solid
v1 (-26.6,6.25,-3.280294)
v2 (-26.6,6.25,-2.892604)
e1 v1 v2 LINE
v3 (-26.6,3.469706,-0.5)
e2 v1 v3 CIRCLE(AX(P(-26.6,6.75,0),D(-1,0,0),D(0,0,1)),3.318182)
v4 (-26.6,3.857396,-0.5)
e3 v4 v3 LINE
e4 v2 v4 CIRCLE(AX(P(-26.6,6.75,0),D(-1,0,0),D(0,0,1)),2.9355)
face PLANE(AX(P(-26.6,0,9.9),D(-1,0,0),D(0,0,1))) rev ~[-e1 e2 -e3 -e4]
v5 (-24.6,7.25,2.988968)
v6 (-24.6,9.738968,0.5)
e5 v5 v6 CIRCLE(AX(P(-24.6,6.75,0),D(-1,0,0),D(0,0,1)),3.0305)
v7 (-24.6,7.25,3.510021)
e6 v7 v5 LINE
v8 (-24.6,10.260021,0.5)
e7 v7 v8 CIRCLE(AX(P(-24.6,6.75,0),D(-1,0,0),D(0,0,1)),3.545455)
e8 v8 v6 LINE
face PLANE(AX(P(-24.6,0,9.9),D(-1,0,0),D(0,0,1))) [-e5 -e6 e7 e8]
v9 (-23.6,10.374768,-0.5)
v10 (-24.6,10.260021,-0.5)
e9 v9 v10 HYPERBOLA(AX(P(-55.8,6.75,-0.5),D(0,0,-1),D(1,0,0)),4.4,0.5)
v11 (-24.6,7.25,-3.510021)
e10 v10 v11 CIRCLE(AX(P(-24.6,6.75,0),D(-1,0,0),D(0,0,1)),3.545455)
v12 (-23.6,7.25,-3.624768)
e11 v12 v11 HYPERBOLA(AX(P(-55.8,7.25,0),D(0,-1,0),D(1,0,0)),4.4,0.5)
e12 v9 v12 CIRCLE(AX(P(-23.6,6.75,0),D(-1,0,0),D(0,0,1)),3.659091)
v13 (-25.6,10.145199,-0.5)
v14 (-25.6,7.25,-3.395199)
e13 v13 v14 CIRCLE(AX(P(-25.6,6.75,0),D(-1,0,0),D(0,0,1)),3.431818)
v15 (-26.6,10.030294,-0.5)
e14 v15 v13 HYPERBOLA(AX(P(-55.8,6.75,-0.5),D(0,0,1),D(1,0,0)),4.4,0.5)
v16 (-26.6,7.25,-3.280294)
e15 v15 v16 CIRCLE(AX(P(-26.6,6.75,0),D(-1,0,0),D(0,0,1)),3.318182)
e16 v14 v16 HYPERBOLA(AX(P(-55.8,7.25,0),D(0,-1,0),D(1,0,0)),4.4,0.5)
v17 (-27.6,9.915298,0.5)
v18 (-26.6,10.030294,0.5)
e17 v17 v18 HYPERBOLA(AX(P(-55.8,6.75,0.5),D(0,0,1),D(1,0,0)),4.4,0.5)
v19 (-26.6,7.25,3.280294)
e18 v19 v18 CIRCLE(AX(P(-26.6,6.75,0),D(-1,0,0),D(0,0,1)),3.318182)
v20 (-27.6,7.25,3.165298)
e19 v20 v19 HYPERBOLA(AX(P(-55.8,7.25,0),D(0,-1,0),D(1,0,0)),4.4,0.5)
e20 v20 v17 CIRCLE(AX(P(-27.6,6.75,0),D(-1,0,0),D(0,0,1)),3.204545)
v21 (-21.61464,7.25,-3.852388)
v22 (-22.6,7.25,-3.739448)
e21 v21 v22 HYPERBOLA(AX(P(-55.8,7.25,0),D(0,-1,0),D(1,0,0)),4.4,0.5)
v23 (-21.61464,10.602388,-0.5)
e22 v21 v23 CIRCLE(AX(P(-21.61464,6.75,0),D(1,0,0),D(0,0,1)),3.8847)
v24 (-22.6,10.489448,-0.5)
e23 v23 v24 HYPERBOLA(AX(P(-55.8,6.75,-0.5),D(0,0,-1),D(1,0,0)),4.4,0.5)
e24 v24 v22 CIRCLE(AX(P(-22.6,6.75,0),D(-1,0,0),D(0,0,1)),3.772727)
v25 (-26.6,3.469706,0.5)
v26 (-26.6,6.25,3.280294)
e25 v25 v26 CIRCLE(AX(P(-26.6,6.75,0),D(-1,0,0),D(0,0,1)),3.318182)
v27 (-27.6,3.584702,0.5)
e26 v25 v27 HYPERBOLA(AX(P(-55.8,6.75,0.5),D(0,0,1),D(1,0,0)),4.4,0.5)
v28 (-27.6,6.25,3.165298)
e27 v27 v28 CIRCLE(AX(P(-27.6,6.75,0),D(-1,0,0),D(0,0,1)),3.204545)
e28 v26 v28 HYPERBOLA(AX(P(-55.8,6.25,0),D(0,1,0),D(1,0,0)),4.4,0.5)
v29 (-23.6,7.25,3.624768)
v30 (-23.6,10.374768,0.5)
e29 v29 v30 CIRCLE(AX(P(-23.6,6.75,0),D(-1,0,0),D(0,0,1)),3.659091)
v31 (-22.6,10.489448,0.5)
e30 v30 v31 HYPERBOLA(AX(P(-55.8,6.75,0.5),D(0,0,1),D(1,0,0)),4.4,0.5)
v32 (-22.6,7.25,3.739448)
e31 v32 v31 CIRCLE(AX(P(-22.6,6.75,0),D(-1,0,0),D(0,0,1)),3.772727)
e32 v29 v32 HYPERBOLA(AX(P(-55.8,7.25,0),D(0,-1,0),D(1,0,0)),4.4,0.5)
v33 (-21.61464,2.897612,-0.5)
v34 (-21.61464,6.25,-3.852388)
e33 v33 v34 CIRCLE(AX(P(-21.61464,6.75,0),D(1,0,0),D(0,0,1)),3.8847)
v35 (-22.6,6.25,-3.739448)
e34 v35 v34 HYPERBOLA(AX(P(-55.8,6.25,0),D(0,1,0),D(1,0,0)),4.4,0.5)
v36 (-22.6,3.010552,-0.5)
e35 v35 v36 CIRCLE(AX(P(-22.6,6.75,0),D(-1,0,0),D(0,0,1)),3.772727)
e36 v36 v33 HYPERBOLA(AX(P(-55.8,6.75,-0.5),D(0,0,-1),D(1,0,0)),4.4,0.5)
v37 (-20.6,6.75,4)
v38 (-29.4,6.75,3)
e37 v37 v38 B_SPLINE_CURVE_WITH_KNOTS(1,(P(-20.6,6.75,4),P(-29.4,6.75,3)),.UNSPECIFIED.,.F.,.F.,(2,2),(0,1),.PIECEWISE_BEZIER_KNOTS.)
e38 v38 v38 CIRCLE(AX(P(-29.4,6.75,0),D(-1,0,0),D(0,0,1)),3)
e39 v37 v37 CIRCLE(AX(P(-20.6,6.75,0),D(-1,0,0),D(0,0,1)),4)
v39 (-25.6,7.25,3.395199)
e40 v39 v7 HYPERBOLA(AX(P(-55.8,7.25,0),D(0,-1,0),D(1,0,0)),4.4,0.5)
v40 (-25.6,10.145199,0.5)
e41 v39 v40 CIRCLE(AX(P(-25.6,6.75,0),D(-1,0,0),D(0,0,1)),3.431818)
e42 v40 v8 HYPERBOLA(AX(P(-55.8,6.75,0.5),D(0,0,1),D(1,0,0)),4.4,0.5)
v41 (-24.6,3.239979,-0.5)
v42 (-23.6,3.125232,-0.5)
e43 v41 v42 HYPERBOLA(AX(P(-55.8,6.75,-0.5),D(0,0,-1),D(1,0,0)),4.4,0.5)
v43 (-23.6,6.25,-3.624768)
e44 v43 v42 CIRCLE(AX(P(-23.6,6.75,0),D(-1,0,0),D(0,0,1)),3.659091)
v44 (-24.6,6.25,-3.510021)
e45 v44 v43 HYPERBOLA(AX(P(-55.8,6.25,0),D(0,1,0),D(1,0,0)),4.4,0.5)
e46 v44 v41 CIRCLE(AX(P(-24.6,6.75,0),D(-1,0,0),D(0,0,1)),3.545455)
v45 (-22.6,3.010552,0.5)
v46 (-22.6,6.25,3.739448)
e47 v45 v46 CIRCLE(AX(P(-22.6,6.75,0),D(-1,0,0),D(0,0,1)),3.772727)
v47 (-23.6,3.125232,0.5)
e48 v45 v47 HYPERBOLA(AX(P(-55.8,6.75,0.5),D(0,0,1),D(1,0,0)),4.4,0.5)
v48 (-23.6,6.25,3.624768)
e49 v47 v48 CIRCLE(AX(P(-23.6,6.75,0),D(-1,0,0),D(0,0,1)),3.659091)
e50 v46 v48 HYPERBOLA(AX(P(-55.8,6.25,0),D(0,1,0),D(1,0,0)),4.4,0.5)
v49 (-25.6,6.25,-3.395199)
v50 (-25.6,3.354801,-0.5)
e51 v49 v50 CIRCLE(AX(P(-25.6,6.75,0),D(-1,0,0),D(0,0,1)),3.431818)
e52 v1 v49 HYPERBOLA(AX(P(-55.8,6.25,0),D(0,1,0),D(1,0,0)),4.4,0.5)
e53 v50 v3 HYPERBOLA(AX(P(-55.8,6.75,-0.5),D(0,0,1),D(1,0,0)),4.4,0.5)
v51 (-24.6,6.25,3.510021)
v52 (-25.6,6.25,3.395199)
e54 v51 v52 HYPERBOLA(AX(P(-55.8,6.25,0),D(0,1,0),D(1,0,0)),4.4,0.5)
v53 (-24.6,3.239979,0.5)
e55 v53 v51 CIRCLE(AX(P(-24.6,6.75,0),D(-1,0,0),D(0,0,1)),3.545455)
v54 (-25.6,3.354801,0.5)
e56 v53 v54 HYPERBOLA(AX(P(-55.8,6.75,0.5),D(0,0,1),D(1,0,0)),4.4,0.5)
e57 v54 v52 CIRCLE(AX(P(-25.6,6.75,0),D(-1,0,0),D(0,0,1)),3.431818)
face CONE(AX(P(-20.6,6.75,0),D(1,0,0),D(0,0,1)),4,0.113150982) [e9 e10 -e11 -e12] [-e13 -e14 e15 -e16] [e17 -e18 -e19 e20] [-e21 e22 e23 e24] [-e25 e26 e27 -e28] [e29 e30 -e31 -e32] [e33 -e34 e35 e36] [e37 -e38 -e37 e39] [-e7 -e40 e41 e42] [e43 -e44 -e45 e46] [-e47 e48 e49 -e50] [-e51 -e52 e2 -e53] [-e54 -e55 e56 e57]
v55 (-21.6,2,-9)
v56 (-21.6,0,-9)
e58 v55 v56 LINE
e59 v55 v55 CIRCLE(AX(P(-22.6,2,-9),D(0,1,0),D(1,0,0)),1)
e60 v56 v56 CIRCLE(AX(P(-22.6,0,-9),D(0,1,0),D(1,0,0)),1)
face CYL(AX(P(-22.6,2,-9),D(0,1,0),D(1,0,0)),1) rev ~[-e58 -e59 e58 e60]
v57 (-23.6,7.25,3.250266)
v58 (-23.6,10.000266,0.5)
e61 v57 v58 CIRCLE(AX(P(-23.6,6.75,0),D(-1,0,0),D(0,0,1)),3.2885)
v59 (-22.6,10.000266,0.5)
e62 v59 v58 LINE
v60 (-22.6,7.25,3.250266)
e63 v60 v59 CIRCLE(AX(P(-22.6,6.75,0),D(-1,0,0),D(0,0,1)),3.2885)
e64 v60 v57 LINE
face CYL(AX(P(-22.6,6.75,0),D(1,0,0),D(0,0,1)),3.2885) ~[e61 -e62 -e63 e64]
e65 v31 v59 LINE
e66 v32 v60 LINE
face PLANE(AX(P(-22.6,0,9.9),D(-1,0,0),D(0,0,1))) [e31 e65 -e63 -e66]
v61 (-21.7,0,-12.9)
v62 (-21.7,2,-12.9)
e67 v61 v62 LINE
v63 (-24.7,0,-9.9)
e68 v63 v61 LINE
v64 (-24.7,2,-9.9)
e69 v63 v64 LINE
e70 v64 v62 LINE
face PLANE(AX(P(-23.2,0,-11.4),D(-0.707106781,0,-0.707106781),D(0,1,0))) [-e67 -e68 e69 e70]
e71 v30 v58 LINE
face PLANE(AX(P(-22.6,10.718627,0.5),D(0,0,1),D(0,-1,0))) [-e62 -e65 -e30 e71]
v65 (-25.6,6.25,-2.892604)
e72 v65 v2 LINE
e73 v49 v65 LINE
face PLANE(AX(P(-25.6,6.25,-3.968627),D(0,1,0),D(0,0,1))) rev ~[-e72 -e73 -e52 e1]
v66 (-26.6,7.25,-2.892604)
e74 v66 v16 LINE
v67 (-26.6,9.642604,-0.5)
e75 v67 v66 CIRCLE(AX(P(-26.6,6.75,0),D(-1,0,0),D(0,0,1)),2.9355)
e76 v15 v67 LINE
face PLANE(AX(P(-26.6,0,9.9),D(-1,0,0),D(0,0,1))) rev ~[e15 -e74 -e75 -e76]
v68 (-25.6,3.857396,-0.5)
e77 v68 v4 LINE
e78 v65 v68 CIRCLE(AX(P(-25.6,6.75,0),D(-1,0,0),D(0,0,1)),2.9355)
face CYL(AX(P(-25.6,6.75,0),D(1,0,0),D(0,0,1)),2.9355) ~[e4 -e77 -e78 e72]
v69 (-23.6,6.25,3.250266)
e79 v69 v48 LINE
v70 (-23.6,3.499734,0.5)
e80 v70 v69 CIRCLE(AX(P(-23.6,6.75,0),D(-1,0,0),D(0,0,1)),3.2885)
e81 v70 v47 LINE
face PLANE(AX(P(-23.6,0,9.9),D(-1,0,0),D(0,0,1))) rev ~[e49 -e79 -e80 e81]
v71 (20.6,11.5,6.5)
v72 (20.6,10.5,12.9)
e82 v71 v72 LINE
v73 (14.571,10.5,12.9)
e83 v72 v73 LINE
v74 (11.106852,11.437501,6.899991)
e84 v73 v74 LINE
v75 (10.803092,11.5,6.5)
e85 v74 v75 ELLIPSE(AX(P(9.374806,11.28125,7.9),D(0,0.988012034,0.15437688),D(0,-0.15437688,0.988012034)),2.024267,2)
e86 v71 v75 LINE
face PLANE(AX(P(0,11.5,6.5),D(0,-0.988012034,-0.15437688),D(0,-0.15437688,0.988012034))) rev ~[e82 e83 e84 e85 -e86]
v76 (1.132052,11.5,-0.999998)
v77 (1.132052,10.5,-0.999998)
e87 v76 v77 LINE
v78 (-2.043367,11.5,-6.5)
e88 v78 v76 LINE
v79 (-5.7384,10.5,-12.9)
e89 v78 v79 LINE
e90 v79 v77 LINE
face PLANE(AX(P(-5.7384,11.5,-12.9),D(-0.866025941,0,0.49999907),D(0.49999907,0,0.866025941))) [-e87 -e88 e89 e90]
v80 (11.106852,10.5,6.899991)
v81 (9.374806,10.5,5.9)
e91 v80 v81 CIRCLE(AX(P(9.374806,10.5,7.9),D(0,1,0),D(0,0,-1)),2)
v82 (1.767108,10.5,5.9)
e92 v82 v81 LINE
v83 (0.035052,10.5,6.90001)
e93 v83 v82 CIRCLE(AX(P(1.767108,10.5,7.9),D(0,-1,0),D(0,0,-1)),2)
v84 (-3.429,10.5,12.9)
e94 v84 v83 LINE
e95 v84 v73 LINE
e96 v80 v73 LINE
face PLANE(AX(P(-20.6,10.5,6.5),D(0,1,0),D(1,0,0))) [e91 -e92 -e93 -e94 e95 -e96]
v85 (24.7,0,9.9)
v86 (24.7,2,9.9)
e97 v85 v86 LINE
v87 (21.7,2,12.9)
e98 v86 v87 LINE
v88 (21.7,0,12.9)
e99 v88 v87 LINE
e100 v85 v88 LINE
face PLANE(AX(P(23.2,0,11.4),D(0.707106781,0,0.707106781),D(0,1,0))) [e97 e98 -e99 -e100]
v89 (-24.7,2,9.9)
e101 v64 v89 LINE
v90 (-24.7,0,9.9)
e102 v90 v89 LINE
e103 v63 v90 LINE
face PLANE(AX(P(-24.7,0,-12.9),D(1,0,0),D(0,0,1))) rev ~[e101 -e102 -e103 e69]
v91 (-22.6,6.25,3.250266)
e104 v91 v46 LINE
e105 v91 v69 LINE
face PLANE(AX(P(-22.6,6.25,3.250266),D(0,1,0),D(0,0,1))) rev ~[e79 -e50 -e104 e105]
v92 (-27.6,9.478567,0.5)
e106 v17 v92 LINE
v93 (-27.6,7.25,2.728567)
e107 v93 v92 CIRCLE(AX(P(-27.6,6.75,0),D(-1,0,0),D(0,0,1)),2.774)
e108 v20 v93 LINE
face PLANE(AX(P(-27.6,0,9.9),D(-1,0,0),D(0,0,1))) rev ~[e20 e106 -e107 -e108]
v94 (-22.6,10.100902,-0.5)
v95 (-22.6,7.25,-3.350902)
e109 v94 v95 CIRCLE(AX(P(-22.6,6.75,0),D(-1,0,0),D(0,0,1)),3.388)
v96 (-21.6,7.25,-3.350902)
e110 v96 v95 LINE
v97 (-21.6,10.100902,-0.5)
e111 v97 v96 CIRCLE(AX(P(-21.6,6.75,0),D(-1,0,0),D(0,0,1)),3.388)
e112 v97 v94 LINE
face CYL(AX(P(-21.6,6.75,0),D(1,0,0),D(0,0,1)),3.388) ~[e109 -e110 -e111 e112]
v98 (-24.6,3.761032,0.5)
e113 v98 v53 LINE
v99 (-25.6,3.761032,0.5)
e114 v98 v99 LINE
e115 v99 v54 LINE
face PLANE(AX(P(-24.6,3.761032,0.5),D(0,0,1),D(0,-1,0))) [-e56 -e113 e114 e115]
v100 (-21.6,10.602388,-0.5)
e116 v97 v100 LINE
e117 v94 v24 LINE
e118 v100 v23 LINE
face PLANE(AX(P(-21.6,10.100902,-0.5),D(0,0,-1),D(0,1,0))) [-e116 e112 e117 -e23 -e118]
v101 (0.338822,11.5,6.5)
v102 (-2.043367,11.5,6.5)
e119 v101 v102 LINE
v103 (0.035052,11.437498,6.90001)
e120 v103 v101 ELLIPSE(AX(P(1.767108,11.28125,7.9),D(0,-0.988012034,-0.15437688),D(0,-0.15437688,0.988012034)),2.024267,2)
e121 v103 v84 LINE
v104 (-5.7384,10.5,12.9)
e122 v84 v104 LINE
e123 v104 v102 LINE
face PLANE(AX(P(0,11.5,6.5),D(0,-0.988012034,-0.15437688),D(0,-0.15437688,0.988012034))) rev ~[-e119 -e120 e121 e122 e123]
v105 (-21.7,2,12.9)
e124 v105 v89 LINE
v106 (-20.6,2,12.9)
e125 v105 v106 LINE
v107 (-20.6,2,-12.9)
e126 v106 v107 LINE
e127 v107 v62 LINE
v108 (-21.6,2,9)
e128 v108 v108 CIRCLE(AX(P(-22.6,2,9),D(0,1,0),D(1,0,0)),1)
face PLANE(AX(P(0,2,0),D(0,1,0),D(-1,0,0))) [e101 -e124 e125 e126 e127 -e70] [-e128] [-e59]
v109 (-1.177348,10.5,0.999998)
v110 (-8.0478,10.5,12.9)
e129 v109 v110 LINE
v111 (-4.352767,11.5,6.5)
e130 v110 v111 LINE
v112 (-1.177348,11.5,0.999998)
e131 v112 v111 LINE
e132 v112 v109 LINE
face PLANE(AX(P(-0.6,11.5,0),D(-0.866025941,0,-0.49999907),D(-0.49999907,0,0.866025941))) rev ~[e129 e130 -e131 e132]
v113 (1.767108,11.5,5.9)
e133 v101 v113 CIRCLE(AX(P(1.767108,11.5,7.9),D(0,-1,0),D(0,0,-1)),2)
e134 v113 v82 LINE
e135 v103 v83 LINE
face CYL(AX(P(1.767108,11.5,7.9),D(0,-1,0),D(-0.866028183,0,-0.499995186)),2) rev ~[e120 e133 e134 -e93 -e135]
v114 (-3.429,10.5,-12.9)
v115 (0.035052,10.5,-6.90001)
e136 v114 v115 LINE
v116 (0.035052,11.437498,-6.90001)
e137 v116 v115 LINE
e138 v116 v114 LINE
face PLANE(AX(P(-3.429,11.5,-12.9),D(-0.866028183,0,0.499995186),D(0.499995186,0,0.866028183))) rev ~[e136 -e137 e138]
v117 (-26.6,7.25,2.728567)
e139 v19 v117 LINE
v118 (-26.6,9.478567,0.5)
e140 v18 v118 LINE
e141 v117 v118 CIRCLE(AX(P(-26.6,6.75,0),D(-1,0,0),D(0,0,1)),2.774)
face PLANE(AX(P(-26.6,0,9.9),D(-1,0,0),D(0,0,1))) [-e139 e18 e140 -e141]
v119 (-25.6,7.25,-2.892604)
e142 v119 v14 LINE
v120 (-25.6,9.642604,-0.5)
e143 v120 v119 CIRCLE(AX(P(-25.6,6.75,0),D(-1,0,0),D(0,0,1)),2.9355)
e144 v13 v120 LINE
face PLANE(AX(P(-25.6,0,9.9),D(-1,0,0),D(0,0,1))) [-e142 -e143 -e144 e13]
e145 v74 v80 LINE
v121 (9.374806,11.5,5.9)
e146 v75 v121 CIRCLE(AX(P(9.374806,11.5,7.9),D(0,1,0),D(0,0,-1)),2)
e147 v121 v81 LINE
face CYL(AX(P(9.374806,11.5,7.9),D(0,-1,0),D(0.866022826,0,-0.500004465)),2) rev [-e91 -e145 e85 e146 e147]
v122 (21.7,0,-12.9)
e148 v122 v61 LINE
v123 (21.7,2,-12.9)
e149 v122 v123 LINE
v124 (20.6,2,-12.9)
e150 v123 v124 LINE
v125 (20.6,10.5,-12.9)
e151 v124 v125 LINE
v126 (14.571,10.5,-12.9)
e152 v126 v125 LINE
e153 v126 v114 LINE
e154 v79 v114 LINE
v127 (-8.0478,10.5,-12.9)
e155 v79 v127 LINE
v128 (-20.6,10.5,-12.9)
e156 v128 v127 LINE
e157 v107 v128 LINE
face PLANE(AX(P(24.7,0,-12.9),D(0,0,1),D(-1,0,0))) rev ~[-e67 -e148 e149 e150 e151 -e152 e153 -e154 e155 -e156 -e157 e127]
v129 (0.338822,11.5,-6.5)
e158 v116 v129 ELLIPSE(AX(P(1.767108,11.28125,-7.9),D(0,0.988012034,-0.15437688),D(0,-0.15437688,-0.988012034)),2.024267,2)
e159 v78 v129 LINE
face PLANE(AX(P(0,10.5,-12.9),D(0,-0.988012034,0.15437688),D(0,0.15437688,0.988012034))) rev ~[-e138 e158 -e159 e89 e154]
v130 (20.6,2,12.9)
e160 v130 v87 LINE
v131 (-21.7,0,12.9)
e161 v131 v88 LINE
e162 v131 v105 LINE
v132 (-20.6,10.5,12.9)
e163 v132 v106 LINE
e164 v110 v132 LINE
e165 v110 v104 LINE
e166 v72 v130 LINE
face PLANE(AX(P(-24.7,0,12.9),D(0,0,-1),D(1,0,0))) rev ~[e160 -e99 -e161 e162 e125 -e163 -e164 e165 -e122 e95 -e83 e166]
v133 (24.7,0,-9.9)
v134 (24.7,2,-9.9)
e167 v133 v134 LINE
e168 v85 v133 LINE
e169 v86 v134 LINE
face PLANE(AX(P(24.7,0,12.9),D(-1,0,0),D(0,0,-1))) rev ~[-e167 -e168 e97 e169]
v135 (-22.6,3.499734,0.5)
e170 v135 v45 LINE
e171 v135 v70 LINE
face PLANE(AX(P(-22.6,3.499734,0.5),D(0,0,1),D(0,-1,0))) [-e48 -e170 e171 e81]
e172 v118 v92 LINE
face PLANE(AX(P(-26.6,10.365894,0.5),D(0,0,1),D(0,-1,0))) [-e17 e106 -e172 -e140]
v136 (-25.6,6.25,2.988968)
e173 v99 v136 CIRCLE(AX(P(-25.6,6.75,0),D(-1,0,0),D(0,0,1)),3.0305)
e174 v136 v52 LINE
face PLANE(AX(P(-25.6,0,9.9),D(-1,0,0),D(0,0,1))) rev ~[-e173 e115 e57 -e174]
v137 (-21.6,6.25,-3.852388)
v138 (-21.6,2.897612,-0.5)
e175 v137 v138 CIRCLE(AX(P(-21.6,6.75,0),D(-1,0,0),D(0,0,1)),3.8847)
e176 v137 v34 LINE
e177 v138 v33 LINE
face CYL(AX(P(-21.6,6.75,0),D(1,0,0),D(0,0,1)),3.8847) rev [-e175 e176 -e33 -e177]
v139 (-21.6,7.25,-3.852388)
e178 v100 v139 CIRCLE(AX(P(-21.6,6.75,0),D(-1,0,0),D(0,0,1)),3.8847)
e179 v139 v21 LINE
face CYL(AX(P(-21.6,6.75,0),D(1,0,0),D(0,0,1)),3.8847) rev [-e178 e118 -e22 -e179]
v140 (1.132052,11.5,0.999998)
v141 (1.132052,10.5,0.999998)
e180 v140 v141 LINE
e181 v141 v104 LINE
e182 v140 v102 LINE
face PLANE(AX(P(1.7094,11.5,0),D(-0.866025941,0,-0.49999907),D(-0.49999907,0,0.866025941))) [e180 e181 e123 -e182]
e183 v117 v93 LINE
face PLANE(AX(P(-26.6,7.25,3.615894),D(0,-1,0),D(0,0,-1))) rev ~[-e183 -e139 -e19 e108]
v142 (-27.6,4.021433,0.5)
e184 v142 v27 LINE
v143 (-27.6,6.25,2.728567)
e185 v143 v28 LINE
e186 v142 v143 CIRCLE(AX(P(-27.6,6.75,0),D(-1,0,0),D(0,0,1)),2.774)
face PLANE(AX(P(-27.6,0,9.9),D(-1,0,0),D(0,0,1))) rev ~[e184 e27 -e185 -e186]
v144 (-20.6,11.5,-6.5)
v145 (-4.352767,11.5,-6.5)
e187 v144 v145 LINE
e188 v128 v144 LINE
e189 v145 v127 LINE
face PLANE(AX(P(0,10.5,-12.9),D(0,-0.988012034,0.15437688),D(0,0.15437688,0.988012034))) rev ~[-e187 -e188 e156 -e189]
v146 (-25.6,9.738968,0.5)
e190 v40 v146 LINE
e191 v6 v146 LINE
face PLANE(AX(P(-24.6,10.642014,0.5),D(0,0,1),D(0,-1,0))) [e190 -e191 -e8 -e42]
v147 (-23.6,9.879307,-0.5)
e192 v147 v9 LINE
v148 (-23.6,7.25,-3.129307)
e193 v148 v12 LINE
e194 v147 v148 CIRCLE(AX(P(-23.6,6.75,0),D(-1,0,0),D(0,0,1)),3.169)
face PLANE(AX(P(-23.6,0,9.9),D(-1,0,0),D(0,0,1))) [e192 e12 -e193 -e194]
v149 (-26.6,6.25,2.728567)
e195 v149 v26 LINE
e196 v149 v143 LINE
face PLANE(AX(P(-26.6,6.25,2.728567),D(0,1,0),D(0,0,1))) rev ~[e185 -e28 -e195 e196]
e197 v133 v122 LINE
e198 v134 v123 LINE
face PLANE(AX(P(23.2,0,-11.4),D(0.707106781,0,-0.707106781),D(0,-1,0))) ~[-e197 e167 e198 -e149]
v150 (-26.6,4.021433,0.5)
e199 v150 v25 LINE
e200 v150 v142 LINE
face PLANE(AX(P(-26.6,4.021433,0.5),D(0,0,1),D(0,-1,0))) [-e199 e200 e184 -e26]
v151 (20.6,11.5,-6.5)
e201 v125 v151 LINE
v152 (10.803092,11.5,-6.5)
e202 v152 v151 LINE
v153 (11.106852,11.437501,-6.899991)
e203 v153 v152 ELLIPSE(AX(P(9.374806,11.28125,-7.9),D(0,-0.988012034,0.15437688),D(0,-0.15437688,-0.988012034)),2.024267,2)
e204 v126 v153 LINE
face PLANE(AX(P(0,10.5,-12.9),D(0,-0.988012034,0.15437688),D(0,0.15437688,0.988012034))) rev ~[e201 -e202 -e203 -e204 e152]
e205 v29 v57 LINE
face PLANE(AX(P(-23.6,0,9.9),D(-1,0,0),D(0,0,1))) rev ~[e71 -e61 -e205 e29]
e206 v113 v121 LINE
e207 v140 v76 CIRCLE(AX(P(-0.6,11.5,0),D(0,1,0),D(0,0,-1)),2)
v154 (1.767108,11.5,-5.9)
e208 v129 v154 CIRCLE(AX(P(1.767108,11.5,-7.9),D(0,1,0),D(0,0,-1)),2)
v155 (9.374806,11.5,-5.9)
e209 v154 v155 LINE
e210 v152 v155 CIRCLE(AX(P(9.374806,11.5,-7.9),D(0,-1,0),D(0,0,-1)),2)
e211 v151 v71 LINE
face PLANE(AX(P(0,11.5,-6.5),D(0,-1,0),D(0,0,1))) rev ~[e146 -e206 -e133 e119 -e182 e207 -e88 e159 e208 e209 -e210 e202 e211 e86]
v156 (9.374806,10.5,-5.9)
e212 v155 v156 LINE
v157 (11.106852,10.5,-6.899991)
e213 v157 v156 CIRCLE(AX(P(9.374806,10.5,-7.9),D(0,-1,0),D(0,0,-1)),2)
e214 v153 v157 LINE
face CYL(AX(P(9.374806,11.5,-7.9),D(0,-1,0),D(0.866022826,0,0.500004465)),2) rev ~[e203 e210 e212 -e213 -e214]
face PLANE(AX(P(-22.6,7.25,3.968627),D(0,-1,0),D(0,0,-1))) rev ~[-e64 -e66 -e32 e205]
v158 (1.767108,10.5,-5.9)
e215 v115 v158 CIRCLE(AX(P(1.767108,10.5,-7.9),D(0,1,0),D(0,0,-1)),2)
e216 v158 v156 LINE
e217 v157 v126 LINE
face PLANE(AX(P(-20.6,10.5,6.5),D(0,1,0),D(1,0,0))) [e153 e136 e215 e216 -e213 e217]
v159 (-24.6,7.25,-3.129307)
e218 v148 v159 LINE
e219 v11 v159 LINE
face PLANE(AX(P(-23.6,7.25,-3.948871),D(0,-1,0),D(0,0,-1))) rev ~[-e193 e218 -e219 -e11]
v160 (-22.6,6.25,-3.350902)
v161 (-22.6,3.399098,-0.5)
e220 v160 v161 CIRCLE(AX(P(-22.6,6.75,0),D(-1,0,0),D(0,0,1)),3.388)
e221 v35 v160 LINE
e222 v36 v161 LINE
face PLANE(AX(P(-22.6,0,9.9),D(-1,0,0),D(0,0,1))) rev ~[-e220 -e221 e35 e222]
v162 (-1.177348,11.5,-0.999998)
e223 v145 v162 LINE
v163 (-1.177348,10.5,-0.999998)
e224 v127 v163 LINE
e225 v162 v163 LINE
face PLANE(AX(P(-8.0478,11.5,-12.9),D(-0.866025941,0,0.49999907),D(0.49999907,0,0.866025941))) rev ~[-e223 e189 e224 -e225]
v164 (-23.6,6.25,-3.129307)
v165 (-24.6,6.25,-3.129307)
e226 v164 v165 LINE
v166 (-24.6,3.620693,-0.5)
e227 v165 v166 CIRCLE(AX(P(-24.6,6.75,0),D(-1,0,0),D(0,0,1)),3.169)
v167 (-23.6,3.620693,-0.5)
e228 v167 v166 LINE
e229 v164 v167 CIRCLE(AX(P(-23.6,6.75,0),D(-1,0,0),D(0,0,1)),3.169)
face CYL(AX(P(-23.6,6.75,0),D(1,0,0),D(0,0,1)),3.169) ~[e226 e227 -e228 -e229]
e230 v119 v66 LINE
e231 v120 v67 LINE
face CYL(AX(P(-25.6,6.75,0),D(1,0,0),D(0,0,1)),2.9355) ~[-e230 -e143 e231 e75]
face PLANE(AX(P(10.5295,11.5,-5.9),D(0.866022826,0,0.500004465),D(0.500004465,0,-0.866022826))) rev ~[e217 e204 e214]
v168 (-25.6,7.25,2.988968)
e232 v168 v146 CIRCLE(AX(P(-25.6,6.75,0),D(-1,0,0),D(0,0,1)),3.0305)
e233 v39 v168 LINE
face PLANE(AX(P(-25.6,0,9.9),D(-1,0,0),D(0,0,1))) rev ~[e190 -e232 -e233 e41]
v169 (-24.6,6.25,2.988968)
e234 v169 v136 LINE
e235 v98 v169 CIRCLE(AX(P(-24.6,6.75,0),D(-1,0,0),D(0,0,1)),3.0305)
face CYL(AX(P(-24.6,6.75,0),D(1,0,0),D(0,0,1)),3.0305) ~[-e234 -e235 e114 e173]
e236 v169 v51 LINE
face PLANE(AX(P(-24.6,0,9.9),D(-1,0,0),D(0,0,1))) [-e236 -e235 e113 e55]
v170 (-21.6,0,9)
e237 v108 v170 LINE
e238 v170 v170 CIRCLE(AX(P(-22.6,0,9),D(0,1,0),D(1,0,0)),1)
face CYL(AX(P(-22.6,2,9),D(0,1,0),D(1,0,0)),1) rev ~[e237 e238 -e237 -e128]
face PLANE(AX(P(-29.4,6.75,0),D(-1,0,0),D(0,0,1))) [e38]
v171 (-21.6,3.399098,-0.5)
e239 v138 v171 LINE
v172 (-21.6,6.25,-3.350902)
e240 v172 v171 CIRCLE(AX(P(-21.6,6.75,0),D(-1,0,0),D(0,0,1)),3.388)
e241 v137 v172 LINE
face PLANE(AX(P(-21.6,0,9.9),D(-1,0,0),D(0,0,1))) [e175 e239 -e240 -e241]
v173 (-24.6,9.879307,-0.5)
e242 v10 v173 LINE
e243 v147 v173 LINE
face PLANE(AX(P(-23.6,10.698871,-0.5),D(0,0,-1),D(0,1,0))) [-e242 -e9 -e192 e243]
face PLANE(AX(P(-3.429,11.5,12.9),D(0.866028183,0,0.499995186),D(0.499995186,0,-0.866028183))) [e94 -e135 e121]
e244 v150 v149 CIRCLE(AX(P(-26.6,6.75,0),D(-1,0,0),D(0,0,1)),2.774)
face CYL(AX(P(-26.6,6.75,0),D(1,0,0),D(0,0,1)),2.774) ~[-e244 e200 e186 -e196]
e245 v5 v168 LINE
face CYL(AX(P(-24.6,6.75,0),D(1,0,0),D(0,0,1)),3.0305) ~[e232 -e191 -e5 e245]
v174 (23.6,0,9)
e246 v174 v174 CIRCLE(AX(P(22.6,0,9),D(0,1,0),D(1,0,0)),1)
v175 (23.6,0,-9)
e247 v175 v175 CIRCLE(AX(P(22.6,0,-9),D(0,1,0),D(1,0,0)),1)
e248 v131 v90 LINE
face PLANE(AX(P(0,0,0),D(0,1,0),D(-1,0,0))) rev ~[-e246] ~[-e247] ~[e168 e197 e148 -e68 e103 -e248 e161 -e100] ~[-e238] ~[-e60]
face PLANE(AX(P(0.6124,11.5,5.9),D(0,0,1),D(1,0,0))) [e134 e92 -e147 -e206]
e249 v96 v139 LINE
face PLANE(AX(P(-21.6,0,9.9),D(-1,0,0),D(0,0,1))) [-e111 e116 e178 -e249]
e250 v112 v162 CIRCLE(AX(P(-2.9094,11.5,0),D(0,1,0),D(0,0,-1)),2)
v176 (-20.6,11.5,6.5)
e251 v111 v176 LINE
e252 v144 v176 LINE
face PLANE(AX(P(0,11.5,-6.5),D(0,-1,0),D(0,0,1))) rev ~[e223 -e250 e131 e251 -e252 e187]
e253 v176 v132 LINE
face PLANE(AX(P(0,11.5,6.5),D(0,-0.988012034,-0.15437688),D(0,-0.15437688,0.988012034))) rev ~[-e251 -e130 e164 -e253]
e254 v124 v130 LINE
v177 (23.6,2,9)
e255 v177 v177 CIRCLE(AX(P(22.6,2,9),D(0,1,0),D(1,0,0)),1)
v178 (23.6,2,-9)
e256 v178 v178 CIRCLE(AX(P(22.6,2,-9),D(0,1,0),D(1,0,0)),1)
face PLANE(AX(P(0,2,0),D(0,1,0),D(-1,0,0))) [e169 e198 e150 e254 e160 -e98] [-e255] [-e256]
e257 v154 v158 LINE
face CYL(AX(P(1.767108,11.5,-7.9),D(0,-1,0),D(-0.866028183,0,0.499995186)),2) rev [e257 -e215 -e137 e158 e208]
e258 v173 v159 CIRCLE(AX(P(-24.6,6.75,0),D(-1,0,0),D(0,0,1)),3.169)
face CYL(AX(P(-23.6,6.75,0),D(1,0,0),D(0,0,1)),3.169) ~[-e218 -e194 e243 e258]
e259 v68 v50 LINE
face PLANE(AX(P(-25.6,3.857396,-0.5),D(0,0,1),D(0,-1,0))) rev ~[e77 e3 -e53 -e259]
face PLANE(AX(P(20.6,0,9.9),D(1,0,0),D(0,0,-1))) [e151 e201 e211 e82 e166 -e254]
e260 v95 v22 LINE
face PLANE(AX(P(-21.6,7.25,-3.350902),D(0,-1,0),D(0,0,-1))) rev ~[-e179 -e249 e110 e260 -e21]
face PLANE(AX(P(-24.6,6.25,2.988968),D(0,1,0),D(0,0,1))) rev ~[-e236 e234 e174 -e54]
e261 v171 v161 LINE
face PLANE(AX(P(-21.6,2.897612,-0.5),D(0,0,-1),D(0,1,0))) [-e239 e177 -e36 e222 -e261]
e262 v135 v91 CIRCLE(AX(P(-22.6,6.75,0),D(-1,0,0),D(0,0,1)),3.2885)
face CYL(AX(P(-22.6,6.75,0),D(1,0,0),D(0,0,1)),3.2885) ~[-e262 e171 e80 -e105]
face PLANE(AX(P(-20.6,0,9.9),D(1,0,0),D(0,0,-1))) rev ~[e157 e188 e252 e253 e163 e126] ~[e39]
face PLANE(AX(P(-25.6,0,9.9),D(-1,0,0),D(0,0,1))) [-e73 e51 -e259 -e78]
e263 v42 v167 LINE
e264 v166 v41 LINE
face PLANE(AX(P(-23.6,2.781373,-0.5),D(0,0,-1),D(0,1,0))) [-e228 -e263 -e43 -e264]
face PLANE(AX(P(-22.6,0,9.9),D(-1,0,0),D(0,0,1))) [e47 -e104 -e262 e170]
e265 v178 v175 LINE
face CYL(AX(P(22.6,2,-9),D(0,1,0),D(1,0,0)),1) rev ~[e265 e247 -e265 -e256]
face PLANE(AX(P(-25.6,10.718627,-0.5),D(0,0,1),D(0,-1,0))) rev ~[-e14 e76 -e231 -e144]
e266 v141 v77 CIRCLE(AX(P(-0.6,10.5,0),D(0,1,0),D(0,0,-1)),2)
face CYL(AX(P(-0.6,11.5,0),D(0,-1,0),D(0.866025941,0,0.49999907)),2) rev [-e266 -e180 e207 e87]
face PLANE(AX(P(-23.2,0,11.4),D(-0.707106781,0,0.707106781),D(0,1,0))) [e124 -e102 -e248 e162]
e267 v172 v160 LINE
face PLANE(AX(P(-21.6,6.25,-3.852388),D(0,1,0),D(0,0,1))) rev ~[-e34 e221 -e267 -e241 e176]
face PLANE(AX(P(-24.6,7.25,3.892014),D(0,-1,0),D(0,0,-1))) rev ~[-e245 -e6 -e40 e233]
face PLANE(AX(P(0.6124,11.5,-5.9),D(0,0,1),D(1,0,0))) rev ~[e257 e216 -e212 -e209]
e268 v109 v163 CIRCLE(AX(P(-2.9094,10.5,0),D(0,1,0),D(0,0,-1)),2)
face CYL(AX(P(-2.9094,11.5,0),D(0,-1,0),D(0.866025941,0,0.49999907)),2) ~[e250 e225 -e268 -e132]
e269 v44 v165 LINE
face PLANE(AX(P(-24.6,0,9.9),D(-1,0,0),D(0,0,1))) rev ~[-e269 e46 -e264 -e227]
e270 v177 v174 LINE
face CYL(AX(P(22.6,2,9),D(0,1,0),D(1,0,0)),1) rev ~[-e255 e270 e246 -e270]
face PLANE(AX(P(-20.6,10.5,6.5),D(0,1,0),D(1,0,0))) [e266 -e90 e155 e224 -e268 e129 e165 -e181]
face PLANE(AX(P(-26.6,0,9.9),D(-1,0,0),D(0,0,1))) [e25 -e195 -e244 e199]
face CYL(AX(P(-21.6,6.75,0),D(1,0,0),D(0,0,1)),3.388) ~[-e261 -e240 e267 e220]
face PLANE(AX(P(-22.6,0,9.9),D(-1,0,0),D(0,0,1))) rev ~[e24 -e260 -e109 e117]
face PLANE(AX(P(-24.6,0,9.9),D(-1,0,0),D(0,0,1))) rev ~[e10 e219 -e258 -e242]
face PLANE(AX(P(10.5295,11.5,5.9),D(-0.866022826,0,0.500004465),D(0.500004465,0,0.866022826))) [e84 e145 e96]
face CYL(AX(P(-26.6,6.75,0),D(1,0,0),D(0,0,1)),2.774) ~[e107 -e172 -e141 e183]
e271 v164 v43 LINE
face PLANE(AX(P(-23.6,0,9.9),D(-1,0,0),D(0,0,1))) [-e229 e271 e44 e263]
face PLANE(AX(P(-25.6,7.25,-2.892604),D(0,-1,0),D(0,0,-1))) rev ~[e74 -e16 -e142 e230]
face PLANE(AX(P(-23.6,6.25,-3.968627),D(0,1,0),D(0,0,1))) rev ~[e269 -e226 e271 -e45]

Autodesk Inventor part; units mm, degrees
sketch "Sketch1" plane through (0, 0, 0) normal (0, 1, 0) x (-1, 0, 0)
  line L0 (-24.7, -12.9) -> (24.7, -12.9)
  line L1 (24.7, -12.9) -> (24.7, 12.9)
  line L2 (24.7, 12.9) -> (-24.7, 12.9)
  line L3 (-24.7, 12.9) -> (-24.7, -12.9)
  line L4 (-24.7, -12.9) -> (24.7, 12.9) construction
  line L5 (24.7, -12.9) -> (-24.7, 12.9) construction
  point P0 (0, 0)
  dimension "d0" = 49.4
  dimension "d1" = 25.8
extrude "Extrusion1" add sketch "Sketch1" along normal blind 2
chamfer "Chamfer1" distance 3 angle 45 4 edges at (24.7, 1, 12.9) (24.7, 1, -12.9) (-24.7, 1, 12.9) (-24.7, 1, -12.9)
sketch "Sketch2" plane through (0, 2, 0) normal (0, 1, 0) x (1, 0, 0)
  circle A0 centre (22.6, -9) radius 1
  circle A1 centre (22.6, 9) radius 1
  circle A2 centre (-22.6, -9) radius 1
  circle A3 centre (-22.6, 9) radius 1
  line L0 (24.7, -9.9) -> (24.7, 9.9) construction
  line L1 (24.7, 0) -> (-24.7, 0) construction
  line L2 (-24.7, 9.9) -> (-24.7, -9.9) construction
  line L3 (-21.7, -12.9) -> (21.7, -12.9) construction
  line L4 (0, -12.9) -> (0, 13.4418) construction
  point P0 (0, 0)
  dimension "d7" = 2
  dimension "d8" = 45.2
  dimension "d9" = 18
extrude "Extrusion2" cut sketch "Sketch2" against normal up to surface (2 mm away)
ref_plane "Work Plane1" through (0, 0, 9.9) normal (1, 0, 0) x (0, 0, -1)
sketch "Sketch3" plane through (0, 0, 9.9) normal (1, 0, 0) x (0, 0, -1)
  line L0 (22.8, 2) -> (19.8, 2) projected
  line L1 (22.8, 2) -> (22.8, 10.5)
  line L2 (22.8, 10.5) -> (16.4, 11.5)
  line L3 (16.4, 11.5) -> (3.4, 11.5)
  line L4 (3.4, 11.5) -> (-3, 10.5)
  line L5 (-3, 10.5) -> (-3, 2)
  line L6 (-0.1, 2) -> (1.9, 2) projected
  line L7 (22.8, 2) -> (-3, 2)
  line L8 (22.8, 0) -> (22.8, 2) projected
  line L9 (-3, 2) -> (-3, 0) projected
  line L10 (0, 0) -> (19.8, 0) projected
  line L11 (9.9, 0) -> (9.9, 11.5) construction
  line L12 (-3, 0) -> (0, 0) construction
  dimension "d12" = 11.5
  dimension "d13" = 13
  dimension "d14" = 10.5
extrude "Extrusion3" add sketch "Sketch3" along normal mid plane 41.2
sketch "Sketch4" plane through (-20.6, 11.5, 6.5) normal (0, 1, 0) x (1, 0, 0)
  line L0 (42.3, 19.4) -> (-1.1, 19.4) projected
  line L1 (12.5522, 19.4) -> (20, 6.5)
  line L2 (20, 6.5) -> (12.5522, -6.4)
  line L3 (-1.1, -6.4) -> (42.3, -6.4) projected
  line L4 (14.8616, 19.4) -> (22.3094, 6.5)
  line L5 (22.3094, 6.5) -> (14.8616, -6.4)
  line L6 (12.5522, -6.4) -> (14.8616, -6.4)
  line L7 (12.5522, 19.4) -> (14.8616, 19.4)
  line L8 (20.6, 6.5) -> (-4.1, 6.5) construction
  line L9 (-4.1, 16.4) -> (-4.1, -3.4) construction
  line L10 (0, 0) -> (0, 13) construction
  line L11 (17.171, 19.4) -> (21.2124, 12.4)
  line L12 (21.2124, 12.4) -> (31.1295, 12.4)
  line L13 (31.1295, 12.4) -> (35.171, 19.4)
  line L14 (26.171, 12.4) -> (26.171, 19.4) construction
  line L15 (17.171, -6.4) -> (21.2124, 0.6)
  line L16 (21.2124, 0.6) -> (31.1295, 0.6)
  line L17 (31.1295, 0.6) -> (35.171, -6.4)
  point P0 (35.171, -6.4)
  dimension "d17" = 2
  dimension "d18" = 2
  dimension "d19" = 120
  dimension "d20" = 20
  dimension "d21" = 2
  dimension "d22" = 7
  dimension "d23" = 18
extrude "Extrusion4" cut sketch "Sketch4" against normal blind 1
fillet "Fillet1" radius 2 6 edges at (1.7094, 11, 0) (-0.6, 11, 0) (0.6124, 11, 5.9) (10.5295, 11, 5.9) (10.5295, 11, -5.9) (0.6124, 11, -5.9)
sketch "Sketch6" plane through (-20.6, 0, 9.9) normal (-1, 0, 0) x (0, 0, 1)
  circle A0 centre (-9.9, 6.75) radius 4
  line L0 (-16.4, 11.5) -> (-3.4, 11.5) construction
  line L1 (-9.9, 11.5) -> (-9.9, 0) construction
  line L2 (-22.8, 2) -> (-22.8, 10.5) construction
  line L3 (-22.8, 6.75) -> (3, 6.75) construction
  line L4 (3, 10.5) -> (3, 2) construction
  point P0 (-9.9, 6.75)
  dimension "d27" = 8
  dimension "d28" = 4.75
ref_plane "Work Plane2" through (-29.4, 0, 9.9) normal (-1, 0, 0) x (0, 0, 1)
sketch "Sketch7" plane through (-29.4, 0, 9.9) normal (-1, 0, 0) x (0, 0, 1)
  circle A0 centre (-9.9, 6.75) radius 3
  point P0 (-9.9, 0)
  dimension "d30" = 6
loft "Loft1" add profiles "Sketch6", "Sketch7"
ref_plane "Work Plane3" through (-21.6, 0, 9.9) normal (-1, 0, 0) x (0, 0, 1)
sketch "Sketch8" plane through (-21.6, 0, 9.9) normal (-1, 0, 0) x (0, 0, 1)
  circle A0 centre (-9.9, 6.75) radius 4 projected
  circle A1 centre (-9.9, 6.75) radius 3.8847
  circle A2 centre (-9.9, 6.75) radius 3.388
  line L0 (-9.4, 2.75) -> (-10.4, 2.75)
  line L1 (-10.4, 2.75) -> (-10.4, 10.75)
  line L2 (-10.4, 10.75) -> (-9.4, 10.75)
  line L3 (-9.4, 10.75) -> (-9.4, 2.75)
  line L4 (-9.4, 2.75) -> (-10.4, 10.75) construction
  line L5 (-10.4, 2.75) -> (-9.4, 10.75) construction
  line L6 (-5.9, 7.25) -> (-13.9, 7.25)
  line L7 (-13.9, 7.25) -> (-13.9, 6.25)
  line L8 (-13.9, 6.25) -> (-5.9, 6.25)
  line L9 (-5.9, 6.25) -> (-5.9, 7.25)
  line L10 (-5.9, 7.25) -> (-13.9, 6.25) construction
  line L11 (-13.9, 7.25) -> (-5.9, 6.25) construction
  point P0 (-9.9, 0)
  point P1 (-13.2509, 6.25)
  point P2 (-13.7524, 6.25)
  point P3 (-10.4, 2.8976)
  point P4 (-10.4, 3.3991)
  point P5 (-13.7524, 7.25)
  point P6 (-13.2509, 7.25)
  point P7 (-10.4, 10.1009)
  point P8 (-10.4, 10.6024)
  dimension "d36" = 6.776
  dimension "d37" = 1
  dimension "d38" = 1
extrude "Extrusion5" cut sketch "Sketch8" along normal blind 1 contours L1 A2 L6 A1 | A1 L8 A2 L1
ref_plane "Work Plane4" through (-22.6, 0, 9.9) normal (-1, 0, 0) x (0, 0, 1)
sketch "Sketch9" plane through (-22.6, 0, 9.9) normal (-1, 0, 0) x (0, 0, 1)
  circle A0 centre (-9.9, 6.75) radius 4 projected
  circle A1 centre (-9.9, 6.75) radius 4
  circle A2 centre (-9.9, 6.75) radius 3.2885
  line L0 (-9.4, 2.75) -> (-10.4, 2.75)
  line L1 (-10.4, 2.75) -> (-10.4, 10.75)
  line L2 (-10.4, 10.75) -> (-9.4, 10.75)
  line L3 (-9.4, 10.75) -> (-9.4, 2.75)
  line L4 (-9.4, 2.75) -> (-10.4, 10.75) construction
  line L5 (-10.4, 2.75) -> (-9.4, 10.75) construction
  line L6 (-5.9, 7.25) -> (-13.9, 7.25)
  line L7 (-13.9, 7.25) -> (-13.9, 6.25)
  line L8 (-13.9, 6.25) -> (-5.9, 6.25)
  line L9 (-5.9, 6.25) -> (-5.9, 7.25)
  line L10 (-5.9, 7.25) -> (-13.9, 6.25) construction
  line L11 (-13.9, 7.25) -> (-5.9, 6.25) construction
  point P0 (-9.9, 0)
  point P1 (-5.9314, 6.25)
  point P2 (-6.6497, 6.25)
  point P3 (-9.4, 3.4997)
  point P4 (-9.4, 2.7814)
  point P5 (-6.6497, 7.25)
  point P6 (-5.9314, 7.25)
  point P7 (-9.4, 10.7186)
  point P8 (-9.4, 10.0003)
  dimension "d42" = 6.577
  dimension "d43" = 1
  dimension "d44" = 1
  dimension "d45" = 8
extrude "Extrusion6" cut sketch "Sketch9" along normal blind 1 contours L6 A2 L3 A0 | A0 L3 A2 L8
ref_plane "Work Plane5" through (-23.6, 0, 9.9) normal (-1, 0, 0) x (0, 0, 1)
sketch "Sketch10" plane through (-23.6, 0, 9.9) normal (-1, 0, 0) x (0, 0, 1)
  circle A0 centre (-9.9, 6.75) radius 4 projected
  circle A1 centre (-9.9, 6.75) radius 3.169
  circle A2 centre (-9.9, 6.75) radius 3.9804
  line L0 (-9.4, 2.75) -> (-10.4, 2.75)
  line L1 (-10.4, 2.75) -> (-10.4, 10.75)
  line L2 (-10.4, 10.75) -> (-9.4, 10.75)
  line L3 (-9.4, 10.75) -> (-9.4, 2.75)
  line L4 (-9.4, 2.75) -> (-10.4, 10.75) construction
  line L5 (-10.4, 2.75) -> (-9.4, 10.75) construction
  line L6 (-5.9, 7.25) -> (-13.9, 7.25)
  line L7 (-13.9, 7.25) -> (-13.9, 6.25)
  line L8 (-13.9, 6.25) -> (-5.9, 6.25)
  line L9 (-5.9, 6.25) -> (-5.9, 7.25)
  line L10 (-5.9, 7.25) -> (-13.9, 6.25) construction
  line L11 (-13.9, 7.25) -> (-5.9, 6.25) construction
  point P0 (-9.9, 0)
  point P1 (-13.0293, 6.25)
  point P2 (-13.8489, 6.25)
  point P3 (-10.4, 2.8011)
  point P4 (-10.4, 3.6207)
  point P5 (-13.8489, 7.25)
  point P6 (-13.0293, 7.25)
  point P7 (-10.4, 9.8793)
  point P8 (-10.4, 10.6989)
  dimension "d49" = 6.338
  dimension "d50" = 1
  dimension "d51" = 1
extrude "Extrusion7" cut sketch "Sketch10" along normal blind 1 contours L1 A2 L6 A0 | L1 A1 L6 A2 | A0 L8 A2 L1 | A2 L8 A1 L1
ref_plane "Work Plane6" through (-24.6, 0, 9.9) normal (-1, 0, 0) x (0, 0, 1)
sketch "Sketch11" plane through (-24.6, 0, 9.9) normal (-1, 0, 0) x (0, 0, 1)
  circle A0 centre (-9.9, 6.75) radius 4 projected
  circle A1 centre (-9.9, 6.75) radius 3.924
  circle A2 centre (-9.9, 6.75) radius 3.0305
  line L0 (-9.4, 2.75) -> (-10.4, 2.75)
  line L1 (-10.4, 2.75) -> (-10.4, 10.75)
  line L2 (-10.4, 10.75) -> (-9.4, 10.75)
  line L3 (-9.4, 10.75) -> (-9.4, 2.75)
  line L4 (-9.4, 2.75) -> (-10.4, 10.75) construction
  line L5 (-10.4, 2.75) -> (-9.4, 10.75) construction
  line L6 (-5.9, 7.25) -> (-13.9, 7.25)
  line L7 (-13.9, 7.25) -> (-13.9, 6.25)
  line L8 (-13.9, 6.25) -> (-5.9, 6.25)
  line L9 (-5.9, 6.25) -> (-5.9, 7.25)
  line L10 (-5.9, 7.25) -> (-13.9, 6.25) construction
  line L11 (-13.9, 7.25) -> (-5.9, 6.25) construction
  point P0 (-9.9, 0)
  point P1 (-6.008, 6.25)
  point P2 (-6.911, 6.25)
  point P3 (-9.4, 3.761)
  point P4 (-9.4, 2.858)
  point P5 (-6.911, 7.25)
  point P6 (-6.008, 7.25)
  point P7 (-9.4, 10.642)
  point P8 (-9.4, 9.739)
  dimension "d55" = 6.061
  dimension "d56" = 1
  dimension "d57" = 1
extrude "Extrusion8" cut sketch "Sketch11" along normal blind 1 contours L6 A2 L3 A1 | A1 L3 A2 L8
ref_plane "Work Plane7" through (-25.6, 0, 9.9) normal (-1, 0, 0) x (0, 0, 1)
sketch "Sketch12" plane through (-25.6, 0, 9.9) normal (-1, 0, 0) x (0, 0, 1)
  circle A0 centre (-9.9, 6.75) radius 4 projected
  circle A1 centre (-9.9, 6.75) radius 4.1817
  circle A2 centre (-9.9, 6.75) radius 2.9355
  line L0 (-10.4, 2.5683) -> (-9.4, 2.5683)
  line L1 (-9.4, 2.5683) -> (-9.4, 10.9317)
  line L2 (-9.4, 10.9317) -> (-10.4, 10.9317)
  line L3 (-10.4, 10.9317) -> (-10.4, 2.5683)
  line L4 (-10.4, 2.5683) -> (-9.4, 10.9317) construction
  line L5 (-9.4, 2.5683) -> (-10.4, 10.9317) construction
  line L6 (-5.7183, 7.25) -> (-14.0817, 7.25)
  line L7 (-14.0817, 7.25) -> (-14.0817, 6.25)
  line L8 (-14.0817, 6.25) -> (-5.7183, 6.25)
  line L9 (-5.7183, 6.25) -> (-5.7183, 7.25)
  line L10 (-5.7183, 7.25) -> (-14.0817, 6.25) construction
  line L11 (-14.0817, 7.25) -> (-5.7183, 6.25) construction
  point P0 (-9.9, 0)
  point P1 (-12.7926, 6.25)
  point P2 (-13.8686, 6.25)
  point P3 (-10.4, 2.7814)
  point P4 (-10.4, 3.8574)
  point P5 (-13.8686, 7.25)
  point P6 (-12.7926, 7.25)
  point P7 (-10.4, 9.6426)
  point P8 (-10.4, 10.7186)
  dimension "d61" = 5.871
  dimension "d62" = 1
  dimension "d63" = 1
extrude "Extrusion9" cut sketch "Sketch12" along normal blind 1 contours L3 A2 L6 A0 | A0 L8 A2 L3
ref_plane "Work Plane8" through (-26.6, 0, 9.9) normal (-1, 0, 0) x (0, 0, 1)
sketch "Sketch13" plane through (-26.6, 0, 9.9) normal (-1, 0, 0) x (0, 0, 1)
  circle A0 centre (-9.9, 6.75) radius 4 projected
  circle A1 centre (-9.9, 6.75) radius 3.6503
  circle A2 centre (-9.9, 6.75) radius 2.774
  line L0 (-9.4, 3.0997) -> (-10.4, 3.0997)
  line L1 (-10.4, 3.0997) -> (-10.4, 10.4003)
  line L2 (-10.4, 10.4003) -> (-9.4, 10.4003)
  line L3 (-9.4, 10.4003) -> (-9.4, 3.0997)
  line L4 (-9.4, 3.0997) -> (-10.4, 10.4003) construction
  line L5 (-10.4, 3.0997) -> (-9.4, 10.4003) construction
  line L6 (-6.2497, 7.25) -> (-13.5503, 7.25)
  line L7 (-13.5503, 7.25) -> (-13.5503, 6.25)
  line L8 (-13.5503, 6.25) -> (-6.2497, 6.25)
  line L9 (-6.2497, 6.25) -> (-6.2497, 7.25)
  line L10 (-6.2497, 7.25) -> (-13.5503, 6.25) construction
  line L11 (-13.5503, 7.25) -> (-6.2497, 6.25) construction
  point P0 (-9.9, 0)
  point P1 (-6.2841, 6.25)
  point P2 (-7.1714, 6.25)
  point P3 (-9.4, 4.0214)
  point P4 (-9.4, 3.1341)
  point P5 (-7.1714, 7.25)
  point P6 (-6.2841, 7.25)
  point P7 (-9.4, 10.3659)
  point P8 (-9.4, 9.4786)
  dimension "d67" = 5.548
  dimension "d68" = 1
  dimension "d69" = 1
extrude "Extrusion10" cut sketch "Sketch13" along normal blind 1 contours L6 A2 L3 A1 | A1 L3 A2 L8
properties part number "ESC"
